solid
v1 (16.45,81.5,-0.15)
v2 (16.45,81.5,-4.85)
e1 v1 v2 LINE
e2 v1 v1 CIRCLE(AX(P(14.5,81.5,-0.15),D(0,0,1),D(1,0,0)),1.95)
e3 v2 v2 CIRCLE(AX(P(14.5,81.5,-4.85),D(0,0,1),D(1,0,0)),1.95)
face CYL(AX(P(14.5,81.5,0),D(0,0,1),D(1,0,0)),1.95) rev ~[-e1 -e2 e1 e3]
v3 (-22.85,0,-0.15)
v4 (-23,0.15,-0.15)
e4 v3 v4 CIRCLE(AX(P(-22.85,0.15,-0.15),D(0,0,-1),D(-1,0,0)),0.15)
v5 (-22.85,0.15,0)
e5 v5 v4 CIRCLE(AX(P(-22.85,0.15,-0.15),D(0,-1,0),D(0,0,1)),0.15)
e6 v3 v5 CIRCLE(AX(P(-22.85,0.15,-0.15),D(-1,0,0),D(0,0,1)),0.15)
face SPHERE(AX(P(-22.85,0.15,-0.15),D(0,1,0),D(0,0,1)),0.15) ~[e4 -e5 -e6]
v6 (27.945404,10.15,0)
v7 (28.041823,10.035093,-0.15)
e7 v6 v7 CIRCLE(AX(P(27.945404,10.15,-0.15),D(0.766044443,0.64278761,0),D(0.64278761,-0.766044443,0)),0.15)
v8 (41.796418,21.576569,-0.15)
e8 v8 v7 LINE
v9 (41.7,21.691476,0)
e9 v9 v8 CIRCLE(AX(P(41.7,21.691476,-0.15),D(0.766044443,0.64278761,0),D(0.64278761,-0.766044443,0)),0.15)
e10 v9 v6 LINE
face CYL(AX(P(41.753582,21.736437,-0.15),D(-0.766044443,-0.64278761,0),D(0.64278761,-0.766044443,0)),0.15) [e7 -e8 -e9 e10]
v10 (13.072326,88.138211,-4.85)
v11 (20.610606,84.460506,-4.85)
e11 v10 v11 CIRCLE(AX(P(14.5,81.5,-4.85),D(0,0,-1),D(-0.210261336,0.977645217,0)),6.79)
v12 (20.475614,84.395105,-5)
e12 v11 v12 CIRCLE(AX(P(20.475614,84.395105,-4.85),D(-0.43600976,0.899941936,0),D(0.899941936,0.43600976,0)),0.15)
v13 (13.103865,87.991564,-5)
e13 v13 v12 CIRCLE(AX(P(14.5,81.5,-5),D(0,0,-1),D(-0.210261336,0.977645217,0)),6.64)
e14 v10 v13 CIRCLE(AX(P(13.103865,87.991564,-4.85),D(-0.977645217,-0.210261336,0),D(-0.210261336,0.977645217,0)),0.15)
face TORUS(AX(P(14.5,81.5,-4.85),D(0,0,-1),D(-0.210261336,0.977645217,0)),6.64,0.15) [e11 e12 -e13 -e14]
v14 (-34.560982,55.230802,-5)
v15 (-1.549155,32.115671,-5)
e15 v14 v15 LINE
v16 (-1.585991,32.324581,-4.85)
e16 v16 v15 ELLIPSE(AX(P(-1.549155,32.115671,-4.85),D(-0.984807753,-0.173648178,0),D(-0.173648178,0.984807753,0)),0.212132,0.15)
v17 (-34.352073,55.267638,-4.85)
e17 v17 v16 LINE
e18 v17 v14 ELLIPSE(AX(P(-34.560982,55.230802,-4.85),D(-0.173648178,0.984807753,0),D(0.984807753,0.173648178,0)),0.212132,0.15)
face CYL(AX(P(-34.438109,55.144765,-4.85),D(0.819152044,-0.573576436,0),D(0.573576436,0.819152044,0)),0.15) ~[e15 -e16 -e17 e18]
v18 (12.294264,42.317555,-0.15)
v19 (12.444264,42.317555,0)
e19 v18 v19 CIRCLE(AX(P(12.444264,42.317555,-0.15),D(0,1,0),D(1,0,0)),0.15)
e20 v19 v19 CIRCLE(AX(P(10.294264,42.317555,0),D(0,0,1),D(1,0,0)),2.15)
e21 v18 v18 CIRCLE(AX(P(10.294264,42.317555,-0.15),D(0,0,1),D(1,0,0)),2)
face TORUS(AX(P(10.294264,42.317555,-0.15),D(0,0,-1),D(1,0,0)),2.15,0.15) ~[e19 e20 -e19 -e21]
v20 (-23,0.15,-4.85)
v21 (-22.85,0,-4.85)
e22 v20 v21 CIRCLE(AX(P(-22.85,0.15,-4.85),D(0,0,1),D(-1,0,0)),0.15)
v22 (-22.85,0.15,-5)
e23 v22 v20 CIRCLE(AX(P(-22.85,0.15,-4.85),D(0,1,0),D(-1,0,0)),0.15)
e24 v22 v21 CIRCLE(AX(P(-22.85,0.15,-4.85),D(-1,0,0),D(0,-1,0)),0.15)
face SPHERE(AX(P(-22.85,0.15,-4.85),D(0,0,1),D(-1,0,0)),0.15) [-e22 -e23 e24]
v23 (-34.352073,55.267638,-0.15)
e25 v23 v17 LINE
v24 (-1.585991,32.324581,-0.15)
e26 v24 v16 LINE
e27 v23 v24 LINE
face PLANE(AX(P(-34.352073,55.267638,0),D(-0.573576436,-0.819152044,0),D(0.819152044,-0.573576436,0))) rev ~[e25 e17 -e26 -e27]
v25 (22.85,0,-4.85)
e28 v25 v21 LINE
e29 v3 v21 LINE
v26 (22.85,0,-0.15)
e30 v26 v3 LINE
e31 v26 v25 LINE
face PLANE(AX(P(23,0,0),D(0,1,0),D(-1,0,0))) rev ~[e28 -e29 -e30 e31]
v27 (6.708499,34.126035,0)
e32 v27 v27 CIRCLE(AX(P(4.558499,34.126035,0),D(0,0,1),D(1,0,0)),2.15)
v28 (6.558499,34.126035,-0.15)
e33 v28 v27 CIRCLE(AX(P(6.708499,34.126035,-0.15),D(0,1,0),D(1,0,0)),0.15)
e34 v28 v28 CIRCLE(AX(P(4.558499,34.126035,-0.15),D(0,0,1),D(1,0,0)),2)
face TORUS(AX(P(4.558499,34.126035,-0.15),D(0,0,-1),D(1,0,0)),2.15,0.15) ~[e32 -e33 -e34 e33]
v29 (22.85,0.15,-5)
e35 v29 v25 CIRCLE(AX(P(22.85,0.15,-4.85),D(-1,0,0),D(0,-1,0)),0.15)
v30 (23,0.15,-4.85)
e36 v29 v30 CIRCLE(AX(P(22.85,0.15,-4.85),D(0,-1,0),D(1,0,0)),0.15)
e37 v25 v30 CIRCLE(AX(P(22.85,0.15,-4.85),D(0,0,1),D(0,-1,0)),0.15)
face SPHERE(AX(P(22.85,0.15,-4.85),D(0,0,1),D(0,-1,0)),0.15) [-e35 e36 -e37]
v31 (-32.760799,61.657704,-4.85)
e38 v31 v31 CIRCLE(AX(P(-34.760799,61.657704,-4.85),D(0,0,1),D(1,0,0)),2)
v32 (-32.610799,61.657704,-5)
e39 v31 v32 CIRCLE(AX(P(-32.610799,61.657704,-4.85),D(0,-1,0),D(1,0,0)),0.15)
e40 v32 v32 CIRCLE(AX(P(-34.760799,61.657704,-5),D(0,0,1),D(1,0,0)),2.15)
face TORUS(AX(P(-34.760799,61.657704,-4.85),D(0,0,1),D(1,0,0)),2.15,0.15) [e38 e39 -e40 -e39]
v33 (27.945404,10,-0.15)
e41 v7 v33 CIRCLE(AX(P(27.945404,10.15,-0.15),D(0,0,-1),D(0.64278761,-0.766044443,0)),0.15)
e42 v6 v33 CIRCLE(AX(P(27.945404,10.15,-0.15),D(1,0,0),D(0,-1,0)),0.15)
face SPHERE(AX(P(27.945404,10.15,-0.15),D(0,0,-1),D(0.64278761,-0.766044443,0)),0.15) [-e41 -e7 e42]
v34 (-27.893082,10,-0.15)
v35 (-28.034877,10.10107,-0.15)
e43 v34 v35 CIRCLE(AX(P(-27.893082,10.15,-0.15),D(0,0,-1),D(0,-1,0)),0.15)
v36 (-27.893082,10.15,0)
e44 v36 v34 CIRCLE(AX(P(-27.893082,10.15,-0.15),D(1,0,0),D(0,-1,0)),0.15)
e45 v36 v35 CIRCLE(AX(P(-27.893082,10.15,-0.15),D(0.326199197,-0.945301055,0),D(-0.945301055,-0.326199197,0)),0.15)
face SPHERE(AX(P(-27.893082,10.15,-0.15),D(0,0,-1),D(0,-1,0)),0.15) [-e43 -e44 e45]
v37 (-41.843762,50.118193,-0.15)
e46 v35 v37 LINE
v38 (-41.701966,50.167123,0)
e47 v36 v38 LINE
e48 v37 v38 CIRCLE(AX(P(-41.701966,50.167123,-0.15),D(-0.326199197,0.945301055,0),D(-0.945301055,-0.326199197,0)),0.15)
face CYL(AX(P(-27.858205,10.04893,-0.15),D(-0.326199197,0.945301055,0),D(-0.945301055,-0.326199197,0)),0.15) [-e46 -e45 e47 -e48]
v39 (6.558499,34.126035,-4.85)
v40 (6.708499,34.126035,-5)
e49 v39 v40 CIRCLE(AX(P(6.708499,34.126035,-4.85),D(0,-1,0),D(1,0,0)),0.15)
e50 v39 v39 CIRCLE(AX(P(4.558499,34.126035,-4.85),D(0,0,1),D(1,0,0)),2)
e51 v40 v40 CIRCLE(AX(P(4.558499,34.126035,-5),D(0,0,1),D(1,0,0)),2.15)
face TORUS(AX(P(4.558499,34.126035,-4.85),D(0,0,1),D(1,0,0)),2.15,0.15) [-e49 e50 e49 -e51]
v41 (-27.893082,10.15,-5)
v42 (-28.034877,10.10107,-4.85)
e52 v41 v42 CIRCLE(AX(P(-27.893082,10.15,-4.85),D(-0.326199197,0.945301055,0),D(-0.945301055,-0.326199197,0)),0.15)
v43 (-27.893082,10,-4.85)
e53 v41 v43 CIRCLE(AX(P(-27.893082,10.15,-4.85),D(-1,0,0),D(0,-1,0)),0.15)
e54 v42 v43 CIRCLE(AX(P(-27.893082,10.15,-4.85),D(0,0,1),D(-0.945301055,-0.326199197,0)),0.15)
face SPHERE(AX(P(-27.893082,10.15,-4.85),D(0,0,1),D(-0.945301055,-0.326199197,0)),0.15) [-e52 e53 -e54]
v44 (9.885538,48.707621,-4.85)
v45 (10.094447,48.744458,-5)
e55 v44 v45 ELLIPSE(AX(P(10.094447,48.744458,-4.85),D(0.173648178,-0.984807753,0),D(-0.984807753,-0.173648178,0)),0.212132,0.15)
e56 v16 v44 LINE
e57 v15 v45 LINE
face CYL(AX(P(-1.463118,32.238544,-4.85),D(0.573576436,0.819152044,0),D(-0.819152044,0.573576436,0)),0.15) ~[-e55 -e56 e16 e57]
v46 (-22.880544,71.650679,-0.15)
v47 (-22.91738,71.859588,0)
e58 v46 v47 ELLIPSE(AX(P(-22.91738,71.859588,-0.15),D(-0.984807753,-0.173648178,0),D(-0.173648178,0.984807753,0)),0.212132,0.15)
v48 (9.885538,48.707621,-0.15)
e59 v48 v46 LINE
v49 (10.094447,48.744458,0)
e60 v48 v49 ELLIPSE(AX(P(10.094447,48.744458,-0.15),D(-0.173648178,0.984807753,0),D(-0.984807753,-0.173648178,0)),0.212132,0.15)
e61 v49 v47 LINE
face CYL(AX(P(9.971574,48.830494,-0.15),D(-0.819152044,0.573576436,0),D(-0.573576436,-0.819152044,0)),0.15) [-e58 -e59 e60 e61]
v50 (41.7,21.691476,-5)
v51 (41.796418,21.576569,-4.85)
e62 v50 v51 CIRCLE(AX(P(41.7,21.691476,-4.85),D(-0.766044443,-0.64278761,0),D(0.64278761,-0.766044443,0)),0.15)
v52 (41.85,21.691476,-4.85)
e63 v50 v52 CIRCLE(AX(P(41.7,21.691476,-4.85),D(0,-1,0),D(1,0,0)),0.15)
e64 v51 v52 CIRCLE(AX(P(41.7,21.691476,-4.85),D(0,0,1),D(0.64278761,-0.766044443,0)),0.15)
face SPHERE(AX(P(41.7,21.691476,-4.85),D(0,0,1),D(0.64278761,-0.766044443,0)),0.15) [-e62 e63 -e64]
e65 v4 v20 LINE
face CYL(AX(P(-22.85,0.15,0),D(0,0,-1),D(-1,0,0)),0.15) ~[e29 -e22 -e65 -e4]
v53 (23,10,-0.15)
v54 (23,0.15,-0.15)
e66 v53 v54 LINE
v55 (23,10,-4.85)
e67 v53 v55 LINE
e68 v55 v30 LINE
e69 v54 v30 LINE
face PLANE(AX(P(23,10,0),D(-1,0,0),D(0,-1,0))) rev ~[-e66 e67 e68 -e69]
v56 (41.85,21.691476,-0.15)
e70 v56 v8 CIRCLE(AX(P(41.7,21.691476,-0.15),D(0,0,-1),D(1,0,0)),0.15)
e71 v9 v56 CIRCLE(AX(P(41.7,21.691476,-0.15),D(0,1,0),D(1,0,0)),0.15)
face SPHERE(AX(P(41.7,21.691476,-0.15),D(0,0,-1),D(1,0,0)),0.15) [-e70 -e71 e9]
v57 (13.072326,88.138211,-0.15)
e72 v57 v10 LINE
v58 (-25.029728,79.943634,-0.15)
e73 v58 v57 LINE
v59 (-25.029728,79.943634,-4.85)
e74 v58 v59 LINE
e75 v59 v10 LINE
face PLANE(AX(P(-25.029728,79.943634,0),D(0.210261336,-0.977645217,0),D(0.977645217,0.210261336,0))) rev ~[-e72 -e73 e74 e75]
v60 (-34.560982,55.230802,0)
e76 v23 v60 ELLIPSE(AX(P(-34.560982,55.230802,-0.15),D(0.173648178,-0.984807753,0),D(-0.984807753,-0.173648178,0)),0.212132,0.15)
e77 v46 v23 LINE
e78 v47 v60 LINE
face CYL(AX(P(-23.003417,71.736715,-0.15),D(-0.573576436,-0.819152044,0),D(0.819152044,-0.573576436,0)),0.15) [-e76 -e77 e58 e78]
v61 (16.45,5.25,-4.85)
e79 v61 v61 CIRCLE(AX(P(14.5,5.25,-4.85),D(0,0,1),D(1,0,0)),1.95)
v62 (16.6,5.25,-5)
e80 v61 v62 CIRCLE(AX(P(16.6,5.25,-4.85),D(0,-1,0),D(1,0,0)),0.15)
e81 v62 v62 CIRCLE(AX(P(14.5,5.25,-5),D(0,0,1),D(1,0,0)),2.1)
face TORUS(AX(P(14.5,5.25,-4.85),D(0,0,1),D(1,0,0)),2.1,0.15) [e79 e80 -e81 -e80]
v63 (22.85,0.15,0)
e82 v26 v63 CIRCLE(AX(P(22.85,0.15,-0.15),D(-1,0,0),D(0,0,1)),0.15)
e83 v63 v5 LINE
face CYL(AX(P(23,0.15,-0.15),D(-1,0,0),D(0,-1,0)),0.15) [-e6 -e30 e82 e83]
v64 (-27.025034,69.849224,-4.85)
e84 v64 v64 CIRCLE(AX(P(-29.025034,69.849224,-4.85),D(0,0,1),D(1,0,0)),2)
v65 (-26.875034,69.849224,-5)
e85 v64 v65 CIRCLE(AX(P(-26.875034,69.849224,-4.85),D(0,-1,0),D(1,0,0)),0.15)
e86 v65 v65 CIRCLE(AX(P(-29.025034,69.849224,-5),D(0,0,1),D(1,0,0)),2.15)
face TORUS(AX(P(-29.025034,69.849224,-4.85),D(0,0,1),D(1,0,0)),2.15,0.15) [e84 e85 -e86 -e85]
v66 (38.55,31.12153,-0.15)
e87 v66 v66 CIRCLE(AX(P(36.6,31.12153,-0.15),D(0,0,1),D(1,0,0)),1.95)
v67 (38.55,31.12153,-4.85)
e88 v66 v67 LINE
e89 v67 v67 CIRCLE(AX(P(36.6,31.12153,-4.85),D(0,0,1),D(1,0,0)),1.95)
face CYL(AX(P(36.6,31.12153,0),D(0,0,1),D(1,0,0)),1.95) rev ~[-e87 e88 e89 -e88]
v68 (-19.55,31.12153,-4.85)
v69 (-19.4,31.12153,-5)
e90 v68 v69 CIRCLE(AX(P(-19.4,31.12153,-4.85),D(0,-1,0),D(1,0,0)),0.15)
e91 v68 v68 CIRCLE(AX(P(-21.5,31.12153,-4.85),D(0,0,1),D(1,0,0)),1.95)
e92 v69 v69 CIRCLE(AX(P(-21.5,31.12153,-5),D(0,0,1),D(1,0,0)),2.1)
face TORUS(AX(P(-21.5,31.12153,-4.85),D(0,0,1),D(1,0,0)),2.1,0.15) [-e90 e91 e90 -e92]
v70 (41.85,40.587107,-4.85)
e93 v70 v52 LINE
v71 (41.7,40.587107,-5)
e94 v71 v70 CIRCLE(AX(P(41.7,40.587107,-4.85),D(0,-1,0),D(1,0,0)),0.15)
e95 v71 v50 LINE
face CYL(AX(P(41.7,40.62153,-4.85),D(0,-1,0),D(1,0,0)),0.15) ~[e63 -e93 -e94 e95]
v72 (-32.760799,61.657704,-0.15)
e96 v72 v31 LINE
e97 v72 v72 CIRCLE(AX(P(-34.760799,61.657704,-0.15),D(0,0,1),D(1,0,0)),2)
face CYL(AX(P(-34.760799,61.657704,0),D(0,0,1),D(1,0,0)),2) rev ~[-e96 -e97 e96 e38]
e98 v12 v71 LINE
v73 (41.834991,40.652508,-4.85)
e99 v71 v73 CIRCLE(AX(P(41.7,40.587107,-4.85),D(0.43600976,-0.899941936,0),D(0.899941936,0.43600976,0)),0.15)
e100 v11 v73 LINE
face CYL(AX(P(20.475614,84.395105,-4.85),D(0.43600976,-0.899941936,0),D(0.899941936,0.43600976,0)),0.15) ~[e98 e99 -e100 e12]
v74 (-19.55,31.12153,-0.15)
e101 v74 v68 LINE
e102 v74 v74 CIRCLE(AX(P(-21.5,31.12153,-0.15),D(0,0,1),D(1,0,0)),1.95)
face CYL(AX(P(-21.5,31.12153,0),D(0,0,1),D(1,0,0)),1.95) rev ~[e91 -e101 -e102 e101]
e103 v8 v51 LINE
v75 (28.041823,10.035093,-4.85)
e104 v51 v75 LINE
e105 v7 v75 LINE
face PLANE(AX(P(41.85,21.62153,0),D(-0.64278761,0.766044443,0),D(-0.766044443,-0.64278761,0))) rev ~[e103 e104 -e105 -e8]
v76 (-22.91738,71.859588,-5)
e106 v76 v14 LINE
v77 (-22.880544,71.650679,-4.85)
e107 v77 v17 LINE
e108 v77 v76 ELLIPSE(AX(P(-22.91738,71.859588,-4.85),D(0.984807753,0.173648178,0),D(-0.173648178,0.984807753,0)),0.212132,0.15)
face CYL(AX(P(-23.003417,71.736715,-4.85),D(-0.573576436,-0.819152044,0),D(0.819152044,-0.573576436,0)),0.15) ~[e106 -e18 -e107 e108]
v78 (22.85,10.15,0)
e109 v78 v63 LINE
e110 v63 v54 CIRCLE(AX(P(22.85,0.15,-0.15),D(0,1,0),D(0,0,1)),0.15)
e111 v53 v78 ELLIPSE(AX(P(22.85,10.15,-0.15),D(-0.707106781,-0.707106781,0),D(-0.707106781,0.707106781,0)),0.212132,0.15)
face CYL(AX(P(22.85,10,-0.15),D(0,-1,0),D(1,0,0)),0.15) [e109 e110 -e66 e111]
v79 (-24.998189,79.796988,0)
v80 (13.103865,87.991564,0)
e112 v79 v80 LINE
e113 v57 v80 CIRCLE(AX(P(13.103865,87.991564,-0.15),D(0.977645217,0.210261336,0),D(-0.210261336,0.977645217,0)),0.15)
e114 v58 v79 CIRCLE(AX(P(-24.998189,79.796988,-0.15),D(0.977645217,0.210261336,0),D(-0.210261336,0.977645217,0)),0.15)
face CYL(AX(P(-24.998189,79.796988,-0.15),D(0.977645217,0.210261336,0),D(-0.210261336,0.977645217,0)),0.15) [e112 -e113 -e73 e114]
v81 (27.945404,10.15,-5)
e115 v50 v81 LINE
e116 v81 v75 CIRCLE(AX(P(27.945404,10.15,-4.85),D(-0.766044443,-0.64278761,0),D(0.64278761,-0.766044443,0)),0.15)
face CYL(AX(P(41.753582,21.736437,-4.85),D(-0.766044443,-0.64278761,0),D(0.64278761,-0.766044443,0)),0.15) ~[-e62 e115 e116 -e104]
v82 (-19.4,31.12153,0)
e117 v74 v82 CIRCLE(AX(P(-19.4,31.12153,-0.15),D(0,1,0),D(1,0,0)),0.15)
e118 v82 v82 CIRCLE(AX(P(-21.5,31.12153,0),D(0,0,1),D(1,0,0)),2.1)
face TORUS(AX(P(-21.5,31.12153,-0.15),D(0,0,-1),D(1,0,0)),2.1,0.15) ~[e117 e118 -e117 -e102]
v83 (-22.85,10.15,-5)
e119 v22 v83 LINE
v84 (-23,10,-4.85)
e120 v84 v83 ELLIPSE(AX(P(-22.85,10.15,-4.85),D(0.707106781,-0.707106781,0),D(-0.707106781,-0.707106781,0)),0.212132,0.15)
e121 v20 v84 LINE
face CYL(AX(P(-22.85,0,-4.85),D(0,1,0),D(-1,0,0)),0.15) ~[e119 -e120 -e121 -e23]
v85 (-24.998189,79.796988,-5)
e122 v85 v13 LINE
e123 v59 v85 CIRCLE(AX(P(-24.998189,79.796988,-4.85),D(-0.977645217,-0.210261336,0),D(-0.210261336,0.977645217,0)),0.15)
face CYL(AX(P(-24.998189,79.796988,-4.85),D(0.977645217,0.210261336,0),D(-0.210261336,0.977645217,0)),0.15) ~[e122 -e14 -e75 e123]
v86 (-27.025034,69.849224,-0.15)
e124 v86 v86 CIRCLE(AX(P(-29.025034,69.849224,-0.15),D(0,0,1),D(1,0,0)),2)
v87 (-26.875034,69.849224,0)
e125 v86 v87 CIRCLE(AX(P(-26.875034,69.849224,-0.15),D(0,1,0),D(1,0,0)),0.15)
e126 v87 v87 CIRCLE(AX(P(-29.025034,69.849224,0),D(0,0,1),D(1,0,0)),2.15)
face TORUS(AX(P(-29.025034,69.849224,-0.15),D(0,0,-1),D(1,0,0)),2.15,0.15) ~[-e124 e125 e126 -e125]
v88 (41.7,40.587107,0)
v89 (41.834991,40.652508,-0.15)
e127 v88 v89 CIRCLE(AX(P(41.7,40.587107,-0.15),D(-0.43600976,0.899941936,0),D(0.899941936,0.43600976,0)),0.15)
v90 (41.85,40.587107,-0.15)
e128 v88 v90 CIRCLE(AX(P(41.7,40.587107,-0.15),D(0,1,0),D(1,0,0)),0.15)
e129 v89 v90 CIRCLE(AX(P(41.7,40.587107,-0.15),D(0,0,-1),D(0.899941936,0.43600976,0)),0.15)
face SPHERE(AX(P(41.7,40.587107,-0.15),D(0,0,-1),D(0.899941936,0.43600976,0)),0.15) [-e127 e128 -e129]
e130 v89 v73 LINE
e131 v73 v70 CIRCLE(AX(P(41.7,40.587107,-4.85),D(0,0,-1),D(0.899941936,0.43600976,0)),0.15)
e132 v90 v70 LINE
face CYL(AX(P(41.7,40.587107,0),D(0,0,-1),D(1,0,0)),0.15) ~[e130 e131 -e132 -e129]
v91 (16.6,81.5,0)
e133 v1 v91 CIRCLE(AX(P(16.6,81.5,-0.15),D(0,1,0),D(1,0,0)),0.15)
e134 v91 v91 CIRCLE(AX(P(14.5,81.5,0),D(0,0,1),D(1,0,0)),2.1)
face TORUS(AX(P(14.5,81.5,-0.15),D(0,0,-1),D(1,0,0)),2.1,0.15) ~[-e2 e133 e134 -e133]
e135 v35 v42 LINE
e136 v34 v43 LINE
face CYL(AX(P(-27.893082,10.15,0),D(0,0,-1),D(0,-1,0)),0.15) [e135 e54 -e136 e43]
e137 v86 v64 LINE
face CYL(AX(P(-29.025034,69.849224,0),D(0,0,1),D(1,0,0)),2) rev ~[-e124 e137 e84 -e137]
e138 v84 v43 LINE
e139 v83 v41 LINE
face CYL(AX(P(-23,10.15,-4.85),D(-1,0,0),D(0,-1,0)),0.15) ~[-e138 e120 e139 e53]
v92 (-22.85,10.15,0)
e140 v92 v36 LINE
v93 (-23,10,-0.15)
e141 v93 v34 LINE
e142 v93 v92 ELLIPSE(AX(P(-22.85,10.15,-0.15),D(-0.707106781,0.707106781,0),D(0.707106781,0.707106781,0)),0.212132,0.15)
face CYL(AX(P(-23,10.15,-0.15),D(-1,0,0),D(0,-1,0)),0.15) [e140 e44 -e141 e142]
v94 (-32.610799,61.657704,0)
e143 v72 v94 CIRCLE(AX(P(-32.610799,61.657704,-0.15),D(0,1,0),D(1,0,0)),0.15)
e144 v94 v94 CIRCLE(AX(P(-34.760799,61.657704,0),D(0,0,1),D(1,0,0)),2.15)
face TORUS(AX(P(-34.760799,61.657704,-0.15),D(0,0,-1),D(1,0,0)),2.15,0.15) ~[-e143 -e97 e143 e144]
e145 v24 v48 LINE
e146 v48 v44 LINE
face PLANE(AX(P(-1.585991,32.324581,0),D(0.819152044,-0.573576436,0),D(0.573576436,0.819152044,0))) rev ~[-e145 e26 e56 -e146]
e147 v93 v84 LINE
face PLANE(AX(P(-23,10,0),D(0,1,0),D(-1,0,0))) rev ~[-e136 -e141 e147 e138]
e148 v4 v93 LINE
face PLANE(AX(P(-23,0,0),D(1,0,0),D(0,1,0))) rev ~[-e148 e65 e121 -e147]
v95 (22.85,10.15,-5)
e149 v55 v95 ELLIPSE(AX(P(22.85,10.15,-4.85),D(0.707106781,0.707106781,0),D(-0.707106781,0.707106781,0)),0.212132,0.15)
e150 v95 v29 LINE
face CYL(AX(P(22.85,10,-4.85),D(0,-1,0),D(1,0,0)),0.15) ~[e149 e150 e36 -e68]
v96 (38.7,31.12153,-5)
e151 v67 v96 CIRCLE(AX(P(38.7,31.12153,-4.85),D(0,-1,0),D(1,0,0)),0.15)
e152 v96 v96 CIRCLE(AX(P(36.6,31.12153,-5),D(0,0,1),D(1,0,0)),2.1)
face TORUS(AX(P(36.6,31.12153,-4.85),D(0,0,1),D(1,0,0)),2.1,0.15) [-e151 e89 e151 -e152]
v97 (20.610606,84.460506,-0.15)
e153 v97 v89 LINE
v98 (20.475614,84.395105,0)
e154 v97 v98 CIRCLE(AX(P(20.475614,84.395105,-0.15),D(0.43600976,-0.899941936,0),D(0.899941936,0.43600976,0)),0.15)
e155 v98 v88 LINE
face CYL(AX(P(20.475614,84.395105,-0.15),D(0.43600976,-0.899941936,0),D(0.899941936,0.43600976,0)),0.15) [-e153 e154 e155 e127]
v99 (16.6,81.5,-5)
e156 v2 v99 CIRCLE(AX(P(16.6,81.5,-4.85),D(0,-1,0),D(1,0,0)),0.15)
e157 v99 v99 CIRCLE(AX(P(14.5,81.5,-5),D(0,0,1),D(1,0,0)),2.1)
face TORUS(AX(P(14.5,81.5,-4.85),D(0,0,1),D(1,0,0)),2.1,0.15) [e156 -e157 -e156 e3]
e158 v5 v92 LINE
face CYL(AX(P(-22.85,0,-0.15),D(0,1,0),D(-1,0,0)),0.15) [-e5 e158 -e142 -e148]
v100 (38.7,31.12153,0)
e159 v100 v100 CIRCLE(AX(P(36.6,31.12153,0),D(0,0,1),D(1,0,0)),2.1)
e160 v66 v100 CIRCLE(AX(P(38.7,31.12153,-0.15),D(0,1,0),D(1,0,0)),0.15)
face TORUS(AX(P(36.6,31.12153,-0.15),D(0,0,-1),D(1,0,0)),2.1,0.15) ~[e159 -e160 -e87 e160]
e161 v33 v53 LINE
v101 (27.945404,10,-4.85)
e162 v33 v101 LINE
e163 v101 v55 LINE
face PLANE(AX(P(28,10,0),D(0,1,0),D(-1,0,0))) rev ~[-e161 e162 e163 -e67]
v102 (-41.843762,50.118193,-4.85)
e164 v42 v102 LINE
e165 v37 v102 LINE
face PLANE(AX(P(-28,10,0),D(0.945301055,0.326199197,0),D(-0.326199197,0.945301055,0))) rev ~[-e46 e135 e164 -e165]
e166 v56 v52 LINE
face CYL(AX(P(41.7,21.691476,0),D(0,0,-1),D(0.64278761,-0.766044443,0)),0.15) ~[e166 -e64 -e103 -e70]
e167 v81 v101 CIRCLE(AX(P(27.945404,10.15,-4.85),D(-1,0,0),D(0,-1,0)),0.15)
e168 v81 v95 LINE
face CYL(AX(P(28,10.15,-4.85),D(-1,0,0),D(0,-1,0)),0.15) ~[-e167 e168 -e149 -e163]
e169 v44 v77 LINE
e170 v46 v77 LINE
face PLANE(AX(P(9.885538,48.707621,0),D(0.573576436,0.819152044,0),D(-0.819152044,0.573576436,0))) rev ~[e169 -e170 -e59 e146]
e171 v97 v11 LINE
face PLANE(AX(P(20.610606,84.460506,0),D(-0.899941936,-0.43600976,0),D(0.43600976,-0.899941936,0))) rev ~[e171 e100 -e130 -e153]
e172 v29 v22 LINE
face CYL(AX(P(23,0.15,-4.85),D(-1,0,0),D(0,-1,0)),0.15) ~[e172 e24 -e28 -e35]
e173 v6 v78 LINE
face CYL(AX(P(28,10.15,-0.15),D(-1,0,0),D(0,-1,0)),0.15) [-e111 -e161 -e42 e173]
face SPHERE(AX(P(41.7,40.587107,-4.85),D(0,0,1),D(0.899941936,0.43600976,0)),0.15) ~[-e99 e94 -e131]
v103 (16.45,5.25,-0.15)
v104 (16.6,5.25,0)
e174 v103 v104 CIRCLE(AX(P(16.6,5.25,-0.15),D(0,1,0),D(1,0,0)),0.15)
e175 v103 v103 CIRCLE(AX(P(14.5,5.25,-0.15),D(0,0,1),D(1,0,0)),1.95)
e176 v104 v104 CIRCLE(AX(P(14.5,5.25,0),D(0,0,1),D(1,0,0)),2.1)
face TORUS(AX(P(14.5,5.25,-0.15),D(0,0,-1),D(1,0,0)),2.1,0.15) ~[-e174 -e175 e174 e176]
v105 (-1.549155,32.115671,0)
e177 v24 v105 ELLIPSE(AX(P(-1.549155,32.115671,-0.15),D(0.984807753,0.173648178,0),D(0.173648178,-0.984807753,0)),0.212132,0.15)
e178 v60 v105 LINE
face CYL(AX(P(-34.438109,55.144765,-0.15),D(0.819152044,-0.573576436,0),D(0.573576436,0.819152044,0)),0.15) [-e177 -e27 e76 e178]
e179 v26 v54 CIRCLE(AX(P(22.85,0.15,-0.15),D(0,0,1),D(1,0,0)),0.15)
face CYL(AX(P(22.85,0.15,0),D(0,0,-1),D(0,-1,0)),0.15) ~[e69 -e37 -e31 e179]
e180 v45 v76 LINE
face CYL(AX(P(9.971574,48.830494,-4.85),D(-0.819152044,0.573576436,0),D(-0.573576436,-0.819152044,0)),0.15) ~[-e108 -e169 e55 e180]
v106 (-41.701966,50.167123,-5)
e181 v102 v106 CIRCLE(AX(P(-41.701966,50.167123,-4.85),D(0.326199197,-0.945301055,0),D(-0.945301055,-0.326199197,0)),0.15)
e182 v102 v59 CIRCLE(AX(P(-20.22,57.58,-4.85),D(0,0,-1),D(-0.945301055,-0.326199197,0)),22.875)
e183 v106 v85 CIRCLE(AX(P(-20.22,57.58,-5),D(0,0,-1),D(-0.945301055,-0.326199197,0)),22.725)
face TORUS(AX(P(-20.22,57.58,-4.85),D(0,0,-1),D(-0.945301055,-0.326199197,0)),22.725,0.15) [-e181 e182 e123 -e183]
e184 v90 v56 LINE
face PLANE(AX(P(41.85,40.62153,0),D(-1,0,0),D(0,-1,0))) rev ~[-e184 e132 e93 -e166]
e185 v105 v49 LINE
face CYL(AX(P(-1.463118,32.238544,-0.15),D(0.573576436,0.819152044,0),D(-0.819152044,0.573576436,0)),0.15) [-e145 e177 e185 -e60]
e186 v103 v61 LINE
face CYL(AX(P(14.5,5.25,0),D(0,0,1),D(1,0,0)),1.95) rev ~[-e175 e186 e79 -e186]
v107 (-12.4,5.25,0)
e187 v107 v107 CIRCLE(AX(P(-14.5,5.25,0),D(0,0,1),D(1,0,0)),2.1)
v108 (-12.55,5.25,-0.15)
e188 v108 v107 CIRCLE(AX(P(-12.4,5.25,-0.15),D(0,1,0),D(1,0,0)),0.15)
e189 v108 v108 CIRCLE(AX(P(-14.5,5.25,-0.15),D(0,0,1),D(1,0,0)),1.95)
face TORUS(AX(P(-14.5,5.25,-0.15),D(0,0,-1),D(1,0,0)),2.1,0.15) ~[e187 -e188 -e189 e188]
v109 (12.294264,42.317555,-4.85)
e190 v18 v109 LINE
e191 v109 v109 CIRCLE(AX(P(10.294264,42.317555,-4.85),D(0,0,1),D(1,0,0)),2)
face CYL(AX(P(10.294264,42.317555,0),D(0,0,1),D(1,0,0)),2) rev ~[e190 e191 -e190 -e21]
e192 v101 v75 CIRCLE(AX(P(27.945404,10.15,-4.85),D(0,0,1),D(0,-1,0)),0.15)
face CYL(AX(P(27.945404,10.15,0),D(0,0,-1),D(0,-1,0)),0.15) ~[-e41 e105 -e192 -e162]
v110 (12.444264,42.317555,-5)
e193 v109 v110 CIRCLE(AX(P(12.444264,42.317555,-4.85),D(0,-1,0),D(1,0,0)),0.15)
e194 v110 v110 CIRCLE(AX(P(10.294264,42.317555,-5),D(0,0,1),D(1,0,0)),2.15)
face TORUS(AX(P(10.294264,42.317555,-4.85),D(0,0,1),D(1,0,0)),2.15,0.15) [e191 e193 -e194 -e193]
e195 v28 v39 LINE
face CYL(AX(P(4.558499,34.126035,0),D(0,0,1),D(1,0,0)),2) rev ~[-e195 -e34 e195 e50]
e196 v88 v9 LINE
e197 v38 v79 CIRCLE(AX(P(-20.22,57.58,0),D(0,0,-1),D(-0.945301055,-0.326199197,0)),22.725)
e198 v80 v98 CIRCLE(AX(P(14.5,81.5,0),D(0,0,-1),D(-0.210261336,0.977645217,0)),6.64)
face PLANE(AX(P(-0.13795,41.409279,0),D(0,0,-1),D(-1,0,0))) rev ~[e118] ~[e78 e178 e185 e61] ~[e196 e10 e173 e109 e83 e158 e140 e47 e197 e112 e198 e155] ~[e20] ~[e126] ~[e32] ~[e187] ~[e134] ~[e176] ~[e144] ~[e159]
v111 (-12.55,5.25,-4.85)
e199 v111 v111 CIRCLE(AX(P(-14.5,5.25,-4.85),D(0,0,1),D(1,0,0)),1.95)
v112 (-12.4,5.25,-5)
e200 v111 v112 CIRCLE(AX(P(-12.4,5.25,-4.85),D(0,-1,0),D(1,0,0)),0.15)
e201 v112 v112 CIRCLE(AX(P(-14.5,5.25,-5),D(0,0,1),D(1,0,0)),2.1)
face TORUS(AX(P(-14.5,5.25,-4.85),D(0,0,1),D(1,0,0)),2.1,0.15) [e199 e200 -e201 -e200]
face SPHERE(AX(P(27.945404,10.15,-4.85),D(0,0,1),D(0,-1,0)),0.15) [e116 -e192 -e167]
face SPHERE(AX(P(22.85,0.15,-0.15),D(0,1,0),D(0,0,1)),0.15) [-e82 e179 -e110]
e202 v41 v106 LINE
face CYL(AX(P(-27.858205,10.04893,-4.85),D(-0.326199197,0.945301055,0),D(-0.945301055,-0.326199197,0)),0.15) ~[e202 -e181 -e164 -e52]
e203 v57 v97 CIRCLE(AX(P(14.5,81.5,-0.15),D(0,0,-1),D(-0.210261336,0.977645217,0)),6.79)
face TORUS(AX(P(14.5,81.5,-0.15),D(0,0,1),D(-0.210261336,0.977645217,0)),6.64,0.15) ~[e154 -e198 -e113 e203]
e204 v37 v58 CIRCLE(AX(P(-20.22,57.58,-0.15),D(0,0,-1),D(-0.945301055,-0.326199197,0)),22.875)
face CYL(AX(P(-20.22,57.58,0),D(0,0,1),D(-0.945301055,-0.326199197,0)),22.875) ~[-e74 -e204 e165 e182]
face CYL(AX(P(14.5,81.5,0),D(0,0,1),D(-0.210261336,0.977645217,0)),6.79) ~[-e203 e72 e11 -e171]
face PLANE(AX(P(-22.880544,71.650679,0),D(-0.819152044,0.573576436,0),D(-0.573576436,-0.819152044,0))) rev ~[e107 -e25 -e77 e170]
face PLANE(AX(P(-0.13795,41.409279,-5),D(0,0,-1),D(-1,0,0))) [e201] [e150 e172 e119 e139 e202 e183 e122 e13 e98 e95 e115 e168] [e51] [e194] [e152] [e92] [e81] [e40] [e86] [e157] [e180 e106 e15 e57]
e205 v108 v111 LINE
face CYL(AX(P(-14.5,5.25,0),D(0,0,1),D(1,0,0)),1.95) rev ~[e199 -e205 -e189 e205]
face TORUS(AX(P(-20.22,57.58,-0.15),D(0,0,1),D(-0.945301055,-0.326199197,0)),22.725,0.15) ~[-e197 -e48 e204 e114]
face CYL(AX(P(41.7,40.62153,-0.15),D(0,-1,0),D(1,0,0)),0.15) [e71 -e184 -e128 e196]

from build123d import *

# Parameters (mm, degrees)
SKETCH2_R           = 2
SKETCH2_R_2         = 1.95
BOSS_EXTRUDE2_DEPTH = 5
FILLET1_R           = 0.15


with BuildPart() as part:
    # Sketch2 → Boss-Extrude2 (new body)
    with BuildSketch(Plane.XY):
        with BuildLine():
            Line((-23, 0), (-23, 10))
            Line((-23, 10), (-28, 10))
            Line((-28, 10), (-41.843761624, 50.118193368))
            ThreePointArc((-41.843761624, 50.118193368), (-40.146654928, 68.813612437), (-25.029728066, 79.943634341))
            Line((-25.029728066, 79.943634341), (13.072325527, 88.138211024))
            ThreePointArc((13.072325527, 88.138211024), (17.477220077, 87.602479874), (20.610605748, 84.460506273))
            Line((20.610605748, 84.460506273), (41.85, 40.621529892))
            Line((41.85, 40.621529892), (41.85, 21.621529892))
            Line((41.85, 21.621529892), (28, 10))
            Line((28, 10), (23, 10))
            Line((23, 10), (23, 0))
            Line((23, 0), (-23, 0))
        make_face()
        with Locations((-29.025034449, 69.849224439)):
            Circle(SKETCH2_R, mode=Mode.SUBTRACT)
        with Locations((-34.760798813, 61.657703997)):
            Circle(SKETCH2_R, mode=Mode.SUBTRACT)
        with Locations((10.294263677, 42.317555495)):
            Circle(SKETCH2_R, mode=Mode.SUBTRACT)
        with Locations((4.558499313, 34.126035052)):
            Circle(SKETCH2_R, mode=Mode.SUBTRACT)
        with Locations((14.5, 81.5)):
            Circle(SKETCH2_R_2, mode=Mode.SUBTRACT)
        with Locations((36.6, 31.121529892)):
            Circle(SKETCH2_R_2, mode=Mode.SUBTRACT)
        with Locations((14.5, 5.25)):
            Circle(SKETCH2_R_2, mode=Mode.SUBTRACT)
        with Locations((-14.5, 5.25)):
            Circle(SKETCH2_R_2, mode=Mode.SUBTRACT)
        with Locations((-21.5, 31.121529892)):
            Circle(SKETCH2_R_2, mode=Mode.SUBTRACT)
        Polygon((-22.88054409, 71.650678915), (-34.352072817, 55.26763803), (-1.585991046, 32.324580576), (9.885537681, 48.707621461), align=None, mode=Mode.SUBTRACT)
    extrude(amount=-BOSS_EXTRUDE2_DEPTH)

    # Fillet1
    fillet1_edges = [part.edges().sort_by_distance(p)[0] for p in [
        (-23, 5, 0),
        (-25.5, 10, 0),
        (25.5, 10, -5),
        (-34.921880812, 30.059096684, 0),
        (-40.146654928, 68.813612437, 0),
        (-5.978701269, 84.040922682, 0),
        (17.477220077, 87.602479874, 0),
        (31.230302874, 62.541018083, 0),
        (41.85, 31.121529892, 0),
        (34.925, 15.810764946, 0),
        (25.5, 10, 0),
        (23, 5, 0),
        (0, 0, 0),
        (34.925, 15.810764946, -5),
        (-23, 0, -2.5),
        (-28, 10, -2.5),
        (41.85, 31.121529892, -5),
        (41.85, 40.621529892, -2.5),
        (41.85, 21.621529892, -2.5),
        (28, 10, -2.5),
        (23, 0, -2.5),
        (31.230302874, 62.541018083, -5),
        (17.477220077, 87.602479874, -5),
        (-5.978701269, 84.040922682, -5),
        (-6.497503205, 60.179150188, -5),
        (4.149773318, 40.516101019, -5),
        (-17.969031932, 43.796109303, -5),
        (-28.616308454, 63.459158473, -5),
        (-6.497503205, 60.179150188, 0),
        (-28.616308454, 63.459158473, 0),
        (-17.969031932, 43.796109303, 0),
        (4.149773318, 40.516101019, 0),
        (-40.146654928, 68.813612437, -5),
        (-34.921880812, 30.059096684, -5),
        (-31.025034449, 69.849224439, -5),
        (-31.025034449, 69.849224439, 0),
        (-25.5, 10, -5),
        (-36.760798813, 61.657703997, -5),
        (-36.760798813, 61.657703997, 0),
        (-23, 5, -5),
        (0, 0, -5),
        (8.294263677, 42.317555495, -5),
        (8.294263677, 42.317555495, 0),
        (2.558499313, 34.126035052, -5),
        (2.558499313, 34.126035052, 0),
        (12.55, 81.5, -5),
        (12.55, 81.5, 0),
        (34.65, 31.121529892, -5),
        (34.65, 31.121529892, 0),
        (12.55, 5.25, -5),
        (12.55, 5.25, 0),
        (-16.45, 5.25, -5),
        (-16.45, 5.25, 0),
        (-23.45, 31.121529892, -5),
        (-23.45, 31.121529892, 0),
        (23, 5, -5),
    ]]
    fillet(fillet1_edges, radius=FILLET1_R)


solid = part.part
